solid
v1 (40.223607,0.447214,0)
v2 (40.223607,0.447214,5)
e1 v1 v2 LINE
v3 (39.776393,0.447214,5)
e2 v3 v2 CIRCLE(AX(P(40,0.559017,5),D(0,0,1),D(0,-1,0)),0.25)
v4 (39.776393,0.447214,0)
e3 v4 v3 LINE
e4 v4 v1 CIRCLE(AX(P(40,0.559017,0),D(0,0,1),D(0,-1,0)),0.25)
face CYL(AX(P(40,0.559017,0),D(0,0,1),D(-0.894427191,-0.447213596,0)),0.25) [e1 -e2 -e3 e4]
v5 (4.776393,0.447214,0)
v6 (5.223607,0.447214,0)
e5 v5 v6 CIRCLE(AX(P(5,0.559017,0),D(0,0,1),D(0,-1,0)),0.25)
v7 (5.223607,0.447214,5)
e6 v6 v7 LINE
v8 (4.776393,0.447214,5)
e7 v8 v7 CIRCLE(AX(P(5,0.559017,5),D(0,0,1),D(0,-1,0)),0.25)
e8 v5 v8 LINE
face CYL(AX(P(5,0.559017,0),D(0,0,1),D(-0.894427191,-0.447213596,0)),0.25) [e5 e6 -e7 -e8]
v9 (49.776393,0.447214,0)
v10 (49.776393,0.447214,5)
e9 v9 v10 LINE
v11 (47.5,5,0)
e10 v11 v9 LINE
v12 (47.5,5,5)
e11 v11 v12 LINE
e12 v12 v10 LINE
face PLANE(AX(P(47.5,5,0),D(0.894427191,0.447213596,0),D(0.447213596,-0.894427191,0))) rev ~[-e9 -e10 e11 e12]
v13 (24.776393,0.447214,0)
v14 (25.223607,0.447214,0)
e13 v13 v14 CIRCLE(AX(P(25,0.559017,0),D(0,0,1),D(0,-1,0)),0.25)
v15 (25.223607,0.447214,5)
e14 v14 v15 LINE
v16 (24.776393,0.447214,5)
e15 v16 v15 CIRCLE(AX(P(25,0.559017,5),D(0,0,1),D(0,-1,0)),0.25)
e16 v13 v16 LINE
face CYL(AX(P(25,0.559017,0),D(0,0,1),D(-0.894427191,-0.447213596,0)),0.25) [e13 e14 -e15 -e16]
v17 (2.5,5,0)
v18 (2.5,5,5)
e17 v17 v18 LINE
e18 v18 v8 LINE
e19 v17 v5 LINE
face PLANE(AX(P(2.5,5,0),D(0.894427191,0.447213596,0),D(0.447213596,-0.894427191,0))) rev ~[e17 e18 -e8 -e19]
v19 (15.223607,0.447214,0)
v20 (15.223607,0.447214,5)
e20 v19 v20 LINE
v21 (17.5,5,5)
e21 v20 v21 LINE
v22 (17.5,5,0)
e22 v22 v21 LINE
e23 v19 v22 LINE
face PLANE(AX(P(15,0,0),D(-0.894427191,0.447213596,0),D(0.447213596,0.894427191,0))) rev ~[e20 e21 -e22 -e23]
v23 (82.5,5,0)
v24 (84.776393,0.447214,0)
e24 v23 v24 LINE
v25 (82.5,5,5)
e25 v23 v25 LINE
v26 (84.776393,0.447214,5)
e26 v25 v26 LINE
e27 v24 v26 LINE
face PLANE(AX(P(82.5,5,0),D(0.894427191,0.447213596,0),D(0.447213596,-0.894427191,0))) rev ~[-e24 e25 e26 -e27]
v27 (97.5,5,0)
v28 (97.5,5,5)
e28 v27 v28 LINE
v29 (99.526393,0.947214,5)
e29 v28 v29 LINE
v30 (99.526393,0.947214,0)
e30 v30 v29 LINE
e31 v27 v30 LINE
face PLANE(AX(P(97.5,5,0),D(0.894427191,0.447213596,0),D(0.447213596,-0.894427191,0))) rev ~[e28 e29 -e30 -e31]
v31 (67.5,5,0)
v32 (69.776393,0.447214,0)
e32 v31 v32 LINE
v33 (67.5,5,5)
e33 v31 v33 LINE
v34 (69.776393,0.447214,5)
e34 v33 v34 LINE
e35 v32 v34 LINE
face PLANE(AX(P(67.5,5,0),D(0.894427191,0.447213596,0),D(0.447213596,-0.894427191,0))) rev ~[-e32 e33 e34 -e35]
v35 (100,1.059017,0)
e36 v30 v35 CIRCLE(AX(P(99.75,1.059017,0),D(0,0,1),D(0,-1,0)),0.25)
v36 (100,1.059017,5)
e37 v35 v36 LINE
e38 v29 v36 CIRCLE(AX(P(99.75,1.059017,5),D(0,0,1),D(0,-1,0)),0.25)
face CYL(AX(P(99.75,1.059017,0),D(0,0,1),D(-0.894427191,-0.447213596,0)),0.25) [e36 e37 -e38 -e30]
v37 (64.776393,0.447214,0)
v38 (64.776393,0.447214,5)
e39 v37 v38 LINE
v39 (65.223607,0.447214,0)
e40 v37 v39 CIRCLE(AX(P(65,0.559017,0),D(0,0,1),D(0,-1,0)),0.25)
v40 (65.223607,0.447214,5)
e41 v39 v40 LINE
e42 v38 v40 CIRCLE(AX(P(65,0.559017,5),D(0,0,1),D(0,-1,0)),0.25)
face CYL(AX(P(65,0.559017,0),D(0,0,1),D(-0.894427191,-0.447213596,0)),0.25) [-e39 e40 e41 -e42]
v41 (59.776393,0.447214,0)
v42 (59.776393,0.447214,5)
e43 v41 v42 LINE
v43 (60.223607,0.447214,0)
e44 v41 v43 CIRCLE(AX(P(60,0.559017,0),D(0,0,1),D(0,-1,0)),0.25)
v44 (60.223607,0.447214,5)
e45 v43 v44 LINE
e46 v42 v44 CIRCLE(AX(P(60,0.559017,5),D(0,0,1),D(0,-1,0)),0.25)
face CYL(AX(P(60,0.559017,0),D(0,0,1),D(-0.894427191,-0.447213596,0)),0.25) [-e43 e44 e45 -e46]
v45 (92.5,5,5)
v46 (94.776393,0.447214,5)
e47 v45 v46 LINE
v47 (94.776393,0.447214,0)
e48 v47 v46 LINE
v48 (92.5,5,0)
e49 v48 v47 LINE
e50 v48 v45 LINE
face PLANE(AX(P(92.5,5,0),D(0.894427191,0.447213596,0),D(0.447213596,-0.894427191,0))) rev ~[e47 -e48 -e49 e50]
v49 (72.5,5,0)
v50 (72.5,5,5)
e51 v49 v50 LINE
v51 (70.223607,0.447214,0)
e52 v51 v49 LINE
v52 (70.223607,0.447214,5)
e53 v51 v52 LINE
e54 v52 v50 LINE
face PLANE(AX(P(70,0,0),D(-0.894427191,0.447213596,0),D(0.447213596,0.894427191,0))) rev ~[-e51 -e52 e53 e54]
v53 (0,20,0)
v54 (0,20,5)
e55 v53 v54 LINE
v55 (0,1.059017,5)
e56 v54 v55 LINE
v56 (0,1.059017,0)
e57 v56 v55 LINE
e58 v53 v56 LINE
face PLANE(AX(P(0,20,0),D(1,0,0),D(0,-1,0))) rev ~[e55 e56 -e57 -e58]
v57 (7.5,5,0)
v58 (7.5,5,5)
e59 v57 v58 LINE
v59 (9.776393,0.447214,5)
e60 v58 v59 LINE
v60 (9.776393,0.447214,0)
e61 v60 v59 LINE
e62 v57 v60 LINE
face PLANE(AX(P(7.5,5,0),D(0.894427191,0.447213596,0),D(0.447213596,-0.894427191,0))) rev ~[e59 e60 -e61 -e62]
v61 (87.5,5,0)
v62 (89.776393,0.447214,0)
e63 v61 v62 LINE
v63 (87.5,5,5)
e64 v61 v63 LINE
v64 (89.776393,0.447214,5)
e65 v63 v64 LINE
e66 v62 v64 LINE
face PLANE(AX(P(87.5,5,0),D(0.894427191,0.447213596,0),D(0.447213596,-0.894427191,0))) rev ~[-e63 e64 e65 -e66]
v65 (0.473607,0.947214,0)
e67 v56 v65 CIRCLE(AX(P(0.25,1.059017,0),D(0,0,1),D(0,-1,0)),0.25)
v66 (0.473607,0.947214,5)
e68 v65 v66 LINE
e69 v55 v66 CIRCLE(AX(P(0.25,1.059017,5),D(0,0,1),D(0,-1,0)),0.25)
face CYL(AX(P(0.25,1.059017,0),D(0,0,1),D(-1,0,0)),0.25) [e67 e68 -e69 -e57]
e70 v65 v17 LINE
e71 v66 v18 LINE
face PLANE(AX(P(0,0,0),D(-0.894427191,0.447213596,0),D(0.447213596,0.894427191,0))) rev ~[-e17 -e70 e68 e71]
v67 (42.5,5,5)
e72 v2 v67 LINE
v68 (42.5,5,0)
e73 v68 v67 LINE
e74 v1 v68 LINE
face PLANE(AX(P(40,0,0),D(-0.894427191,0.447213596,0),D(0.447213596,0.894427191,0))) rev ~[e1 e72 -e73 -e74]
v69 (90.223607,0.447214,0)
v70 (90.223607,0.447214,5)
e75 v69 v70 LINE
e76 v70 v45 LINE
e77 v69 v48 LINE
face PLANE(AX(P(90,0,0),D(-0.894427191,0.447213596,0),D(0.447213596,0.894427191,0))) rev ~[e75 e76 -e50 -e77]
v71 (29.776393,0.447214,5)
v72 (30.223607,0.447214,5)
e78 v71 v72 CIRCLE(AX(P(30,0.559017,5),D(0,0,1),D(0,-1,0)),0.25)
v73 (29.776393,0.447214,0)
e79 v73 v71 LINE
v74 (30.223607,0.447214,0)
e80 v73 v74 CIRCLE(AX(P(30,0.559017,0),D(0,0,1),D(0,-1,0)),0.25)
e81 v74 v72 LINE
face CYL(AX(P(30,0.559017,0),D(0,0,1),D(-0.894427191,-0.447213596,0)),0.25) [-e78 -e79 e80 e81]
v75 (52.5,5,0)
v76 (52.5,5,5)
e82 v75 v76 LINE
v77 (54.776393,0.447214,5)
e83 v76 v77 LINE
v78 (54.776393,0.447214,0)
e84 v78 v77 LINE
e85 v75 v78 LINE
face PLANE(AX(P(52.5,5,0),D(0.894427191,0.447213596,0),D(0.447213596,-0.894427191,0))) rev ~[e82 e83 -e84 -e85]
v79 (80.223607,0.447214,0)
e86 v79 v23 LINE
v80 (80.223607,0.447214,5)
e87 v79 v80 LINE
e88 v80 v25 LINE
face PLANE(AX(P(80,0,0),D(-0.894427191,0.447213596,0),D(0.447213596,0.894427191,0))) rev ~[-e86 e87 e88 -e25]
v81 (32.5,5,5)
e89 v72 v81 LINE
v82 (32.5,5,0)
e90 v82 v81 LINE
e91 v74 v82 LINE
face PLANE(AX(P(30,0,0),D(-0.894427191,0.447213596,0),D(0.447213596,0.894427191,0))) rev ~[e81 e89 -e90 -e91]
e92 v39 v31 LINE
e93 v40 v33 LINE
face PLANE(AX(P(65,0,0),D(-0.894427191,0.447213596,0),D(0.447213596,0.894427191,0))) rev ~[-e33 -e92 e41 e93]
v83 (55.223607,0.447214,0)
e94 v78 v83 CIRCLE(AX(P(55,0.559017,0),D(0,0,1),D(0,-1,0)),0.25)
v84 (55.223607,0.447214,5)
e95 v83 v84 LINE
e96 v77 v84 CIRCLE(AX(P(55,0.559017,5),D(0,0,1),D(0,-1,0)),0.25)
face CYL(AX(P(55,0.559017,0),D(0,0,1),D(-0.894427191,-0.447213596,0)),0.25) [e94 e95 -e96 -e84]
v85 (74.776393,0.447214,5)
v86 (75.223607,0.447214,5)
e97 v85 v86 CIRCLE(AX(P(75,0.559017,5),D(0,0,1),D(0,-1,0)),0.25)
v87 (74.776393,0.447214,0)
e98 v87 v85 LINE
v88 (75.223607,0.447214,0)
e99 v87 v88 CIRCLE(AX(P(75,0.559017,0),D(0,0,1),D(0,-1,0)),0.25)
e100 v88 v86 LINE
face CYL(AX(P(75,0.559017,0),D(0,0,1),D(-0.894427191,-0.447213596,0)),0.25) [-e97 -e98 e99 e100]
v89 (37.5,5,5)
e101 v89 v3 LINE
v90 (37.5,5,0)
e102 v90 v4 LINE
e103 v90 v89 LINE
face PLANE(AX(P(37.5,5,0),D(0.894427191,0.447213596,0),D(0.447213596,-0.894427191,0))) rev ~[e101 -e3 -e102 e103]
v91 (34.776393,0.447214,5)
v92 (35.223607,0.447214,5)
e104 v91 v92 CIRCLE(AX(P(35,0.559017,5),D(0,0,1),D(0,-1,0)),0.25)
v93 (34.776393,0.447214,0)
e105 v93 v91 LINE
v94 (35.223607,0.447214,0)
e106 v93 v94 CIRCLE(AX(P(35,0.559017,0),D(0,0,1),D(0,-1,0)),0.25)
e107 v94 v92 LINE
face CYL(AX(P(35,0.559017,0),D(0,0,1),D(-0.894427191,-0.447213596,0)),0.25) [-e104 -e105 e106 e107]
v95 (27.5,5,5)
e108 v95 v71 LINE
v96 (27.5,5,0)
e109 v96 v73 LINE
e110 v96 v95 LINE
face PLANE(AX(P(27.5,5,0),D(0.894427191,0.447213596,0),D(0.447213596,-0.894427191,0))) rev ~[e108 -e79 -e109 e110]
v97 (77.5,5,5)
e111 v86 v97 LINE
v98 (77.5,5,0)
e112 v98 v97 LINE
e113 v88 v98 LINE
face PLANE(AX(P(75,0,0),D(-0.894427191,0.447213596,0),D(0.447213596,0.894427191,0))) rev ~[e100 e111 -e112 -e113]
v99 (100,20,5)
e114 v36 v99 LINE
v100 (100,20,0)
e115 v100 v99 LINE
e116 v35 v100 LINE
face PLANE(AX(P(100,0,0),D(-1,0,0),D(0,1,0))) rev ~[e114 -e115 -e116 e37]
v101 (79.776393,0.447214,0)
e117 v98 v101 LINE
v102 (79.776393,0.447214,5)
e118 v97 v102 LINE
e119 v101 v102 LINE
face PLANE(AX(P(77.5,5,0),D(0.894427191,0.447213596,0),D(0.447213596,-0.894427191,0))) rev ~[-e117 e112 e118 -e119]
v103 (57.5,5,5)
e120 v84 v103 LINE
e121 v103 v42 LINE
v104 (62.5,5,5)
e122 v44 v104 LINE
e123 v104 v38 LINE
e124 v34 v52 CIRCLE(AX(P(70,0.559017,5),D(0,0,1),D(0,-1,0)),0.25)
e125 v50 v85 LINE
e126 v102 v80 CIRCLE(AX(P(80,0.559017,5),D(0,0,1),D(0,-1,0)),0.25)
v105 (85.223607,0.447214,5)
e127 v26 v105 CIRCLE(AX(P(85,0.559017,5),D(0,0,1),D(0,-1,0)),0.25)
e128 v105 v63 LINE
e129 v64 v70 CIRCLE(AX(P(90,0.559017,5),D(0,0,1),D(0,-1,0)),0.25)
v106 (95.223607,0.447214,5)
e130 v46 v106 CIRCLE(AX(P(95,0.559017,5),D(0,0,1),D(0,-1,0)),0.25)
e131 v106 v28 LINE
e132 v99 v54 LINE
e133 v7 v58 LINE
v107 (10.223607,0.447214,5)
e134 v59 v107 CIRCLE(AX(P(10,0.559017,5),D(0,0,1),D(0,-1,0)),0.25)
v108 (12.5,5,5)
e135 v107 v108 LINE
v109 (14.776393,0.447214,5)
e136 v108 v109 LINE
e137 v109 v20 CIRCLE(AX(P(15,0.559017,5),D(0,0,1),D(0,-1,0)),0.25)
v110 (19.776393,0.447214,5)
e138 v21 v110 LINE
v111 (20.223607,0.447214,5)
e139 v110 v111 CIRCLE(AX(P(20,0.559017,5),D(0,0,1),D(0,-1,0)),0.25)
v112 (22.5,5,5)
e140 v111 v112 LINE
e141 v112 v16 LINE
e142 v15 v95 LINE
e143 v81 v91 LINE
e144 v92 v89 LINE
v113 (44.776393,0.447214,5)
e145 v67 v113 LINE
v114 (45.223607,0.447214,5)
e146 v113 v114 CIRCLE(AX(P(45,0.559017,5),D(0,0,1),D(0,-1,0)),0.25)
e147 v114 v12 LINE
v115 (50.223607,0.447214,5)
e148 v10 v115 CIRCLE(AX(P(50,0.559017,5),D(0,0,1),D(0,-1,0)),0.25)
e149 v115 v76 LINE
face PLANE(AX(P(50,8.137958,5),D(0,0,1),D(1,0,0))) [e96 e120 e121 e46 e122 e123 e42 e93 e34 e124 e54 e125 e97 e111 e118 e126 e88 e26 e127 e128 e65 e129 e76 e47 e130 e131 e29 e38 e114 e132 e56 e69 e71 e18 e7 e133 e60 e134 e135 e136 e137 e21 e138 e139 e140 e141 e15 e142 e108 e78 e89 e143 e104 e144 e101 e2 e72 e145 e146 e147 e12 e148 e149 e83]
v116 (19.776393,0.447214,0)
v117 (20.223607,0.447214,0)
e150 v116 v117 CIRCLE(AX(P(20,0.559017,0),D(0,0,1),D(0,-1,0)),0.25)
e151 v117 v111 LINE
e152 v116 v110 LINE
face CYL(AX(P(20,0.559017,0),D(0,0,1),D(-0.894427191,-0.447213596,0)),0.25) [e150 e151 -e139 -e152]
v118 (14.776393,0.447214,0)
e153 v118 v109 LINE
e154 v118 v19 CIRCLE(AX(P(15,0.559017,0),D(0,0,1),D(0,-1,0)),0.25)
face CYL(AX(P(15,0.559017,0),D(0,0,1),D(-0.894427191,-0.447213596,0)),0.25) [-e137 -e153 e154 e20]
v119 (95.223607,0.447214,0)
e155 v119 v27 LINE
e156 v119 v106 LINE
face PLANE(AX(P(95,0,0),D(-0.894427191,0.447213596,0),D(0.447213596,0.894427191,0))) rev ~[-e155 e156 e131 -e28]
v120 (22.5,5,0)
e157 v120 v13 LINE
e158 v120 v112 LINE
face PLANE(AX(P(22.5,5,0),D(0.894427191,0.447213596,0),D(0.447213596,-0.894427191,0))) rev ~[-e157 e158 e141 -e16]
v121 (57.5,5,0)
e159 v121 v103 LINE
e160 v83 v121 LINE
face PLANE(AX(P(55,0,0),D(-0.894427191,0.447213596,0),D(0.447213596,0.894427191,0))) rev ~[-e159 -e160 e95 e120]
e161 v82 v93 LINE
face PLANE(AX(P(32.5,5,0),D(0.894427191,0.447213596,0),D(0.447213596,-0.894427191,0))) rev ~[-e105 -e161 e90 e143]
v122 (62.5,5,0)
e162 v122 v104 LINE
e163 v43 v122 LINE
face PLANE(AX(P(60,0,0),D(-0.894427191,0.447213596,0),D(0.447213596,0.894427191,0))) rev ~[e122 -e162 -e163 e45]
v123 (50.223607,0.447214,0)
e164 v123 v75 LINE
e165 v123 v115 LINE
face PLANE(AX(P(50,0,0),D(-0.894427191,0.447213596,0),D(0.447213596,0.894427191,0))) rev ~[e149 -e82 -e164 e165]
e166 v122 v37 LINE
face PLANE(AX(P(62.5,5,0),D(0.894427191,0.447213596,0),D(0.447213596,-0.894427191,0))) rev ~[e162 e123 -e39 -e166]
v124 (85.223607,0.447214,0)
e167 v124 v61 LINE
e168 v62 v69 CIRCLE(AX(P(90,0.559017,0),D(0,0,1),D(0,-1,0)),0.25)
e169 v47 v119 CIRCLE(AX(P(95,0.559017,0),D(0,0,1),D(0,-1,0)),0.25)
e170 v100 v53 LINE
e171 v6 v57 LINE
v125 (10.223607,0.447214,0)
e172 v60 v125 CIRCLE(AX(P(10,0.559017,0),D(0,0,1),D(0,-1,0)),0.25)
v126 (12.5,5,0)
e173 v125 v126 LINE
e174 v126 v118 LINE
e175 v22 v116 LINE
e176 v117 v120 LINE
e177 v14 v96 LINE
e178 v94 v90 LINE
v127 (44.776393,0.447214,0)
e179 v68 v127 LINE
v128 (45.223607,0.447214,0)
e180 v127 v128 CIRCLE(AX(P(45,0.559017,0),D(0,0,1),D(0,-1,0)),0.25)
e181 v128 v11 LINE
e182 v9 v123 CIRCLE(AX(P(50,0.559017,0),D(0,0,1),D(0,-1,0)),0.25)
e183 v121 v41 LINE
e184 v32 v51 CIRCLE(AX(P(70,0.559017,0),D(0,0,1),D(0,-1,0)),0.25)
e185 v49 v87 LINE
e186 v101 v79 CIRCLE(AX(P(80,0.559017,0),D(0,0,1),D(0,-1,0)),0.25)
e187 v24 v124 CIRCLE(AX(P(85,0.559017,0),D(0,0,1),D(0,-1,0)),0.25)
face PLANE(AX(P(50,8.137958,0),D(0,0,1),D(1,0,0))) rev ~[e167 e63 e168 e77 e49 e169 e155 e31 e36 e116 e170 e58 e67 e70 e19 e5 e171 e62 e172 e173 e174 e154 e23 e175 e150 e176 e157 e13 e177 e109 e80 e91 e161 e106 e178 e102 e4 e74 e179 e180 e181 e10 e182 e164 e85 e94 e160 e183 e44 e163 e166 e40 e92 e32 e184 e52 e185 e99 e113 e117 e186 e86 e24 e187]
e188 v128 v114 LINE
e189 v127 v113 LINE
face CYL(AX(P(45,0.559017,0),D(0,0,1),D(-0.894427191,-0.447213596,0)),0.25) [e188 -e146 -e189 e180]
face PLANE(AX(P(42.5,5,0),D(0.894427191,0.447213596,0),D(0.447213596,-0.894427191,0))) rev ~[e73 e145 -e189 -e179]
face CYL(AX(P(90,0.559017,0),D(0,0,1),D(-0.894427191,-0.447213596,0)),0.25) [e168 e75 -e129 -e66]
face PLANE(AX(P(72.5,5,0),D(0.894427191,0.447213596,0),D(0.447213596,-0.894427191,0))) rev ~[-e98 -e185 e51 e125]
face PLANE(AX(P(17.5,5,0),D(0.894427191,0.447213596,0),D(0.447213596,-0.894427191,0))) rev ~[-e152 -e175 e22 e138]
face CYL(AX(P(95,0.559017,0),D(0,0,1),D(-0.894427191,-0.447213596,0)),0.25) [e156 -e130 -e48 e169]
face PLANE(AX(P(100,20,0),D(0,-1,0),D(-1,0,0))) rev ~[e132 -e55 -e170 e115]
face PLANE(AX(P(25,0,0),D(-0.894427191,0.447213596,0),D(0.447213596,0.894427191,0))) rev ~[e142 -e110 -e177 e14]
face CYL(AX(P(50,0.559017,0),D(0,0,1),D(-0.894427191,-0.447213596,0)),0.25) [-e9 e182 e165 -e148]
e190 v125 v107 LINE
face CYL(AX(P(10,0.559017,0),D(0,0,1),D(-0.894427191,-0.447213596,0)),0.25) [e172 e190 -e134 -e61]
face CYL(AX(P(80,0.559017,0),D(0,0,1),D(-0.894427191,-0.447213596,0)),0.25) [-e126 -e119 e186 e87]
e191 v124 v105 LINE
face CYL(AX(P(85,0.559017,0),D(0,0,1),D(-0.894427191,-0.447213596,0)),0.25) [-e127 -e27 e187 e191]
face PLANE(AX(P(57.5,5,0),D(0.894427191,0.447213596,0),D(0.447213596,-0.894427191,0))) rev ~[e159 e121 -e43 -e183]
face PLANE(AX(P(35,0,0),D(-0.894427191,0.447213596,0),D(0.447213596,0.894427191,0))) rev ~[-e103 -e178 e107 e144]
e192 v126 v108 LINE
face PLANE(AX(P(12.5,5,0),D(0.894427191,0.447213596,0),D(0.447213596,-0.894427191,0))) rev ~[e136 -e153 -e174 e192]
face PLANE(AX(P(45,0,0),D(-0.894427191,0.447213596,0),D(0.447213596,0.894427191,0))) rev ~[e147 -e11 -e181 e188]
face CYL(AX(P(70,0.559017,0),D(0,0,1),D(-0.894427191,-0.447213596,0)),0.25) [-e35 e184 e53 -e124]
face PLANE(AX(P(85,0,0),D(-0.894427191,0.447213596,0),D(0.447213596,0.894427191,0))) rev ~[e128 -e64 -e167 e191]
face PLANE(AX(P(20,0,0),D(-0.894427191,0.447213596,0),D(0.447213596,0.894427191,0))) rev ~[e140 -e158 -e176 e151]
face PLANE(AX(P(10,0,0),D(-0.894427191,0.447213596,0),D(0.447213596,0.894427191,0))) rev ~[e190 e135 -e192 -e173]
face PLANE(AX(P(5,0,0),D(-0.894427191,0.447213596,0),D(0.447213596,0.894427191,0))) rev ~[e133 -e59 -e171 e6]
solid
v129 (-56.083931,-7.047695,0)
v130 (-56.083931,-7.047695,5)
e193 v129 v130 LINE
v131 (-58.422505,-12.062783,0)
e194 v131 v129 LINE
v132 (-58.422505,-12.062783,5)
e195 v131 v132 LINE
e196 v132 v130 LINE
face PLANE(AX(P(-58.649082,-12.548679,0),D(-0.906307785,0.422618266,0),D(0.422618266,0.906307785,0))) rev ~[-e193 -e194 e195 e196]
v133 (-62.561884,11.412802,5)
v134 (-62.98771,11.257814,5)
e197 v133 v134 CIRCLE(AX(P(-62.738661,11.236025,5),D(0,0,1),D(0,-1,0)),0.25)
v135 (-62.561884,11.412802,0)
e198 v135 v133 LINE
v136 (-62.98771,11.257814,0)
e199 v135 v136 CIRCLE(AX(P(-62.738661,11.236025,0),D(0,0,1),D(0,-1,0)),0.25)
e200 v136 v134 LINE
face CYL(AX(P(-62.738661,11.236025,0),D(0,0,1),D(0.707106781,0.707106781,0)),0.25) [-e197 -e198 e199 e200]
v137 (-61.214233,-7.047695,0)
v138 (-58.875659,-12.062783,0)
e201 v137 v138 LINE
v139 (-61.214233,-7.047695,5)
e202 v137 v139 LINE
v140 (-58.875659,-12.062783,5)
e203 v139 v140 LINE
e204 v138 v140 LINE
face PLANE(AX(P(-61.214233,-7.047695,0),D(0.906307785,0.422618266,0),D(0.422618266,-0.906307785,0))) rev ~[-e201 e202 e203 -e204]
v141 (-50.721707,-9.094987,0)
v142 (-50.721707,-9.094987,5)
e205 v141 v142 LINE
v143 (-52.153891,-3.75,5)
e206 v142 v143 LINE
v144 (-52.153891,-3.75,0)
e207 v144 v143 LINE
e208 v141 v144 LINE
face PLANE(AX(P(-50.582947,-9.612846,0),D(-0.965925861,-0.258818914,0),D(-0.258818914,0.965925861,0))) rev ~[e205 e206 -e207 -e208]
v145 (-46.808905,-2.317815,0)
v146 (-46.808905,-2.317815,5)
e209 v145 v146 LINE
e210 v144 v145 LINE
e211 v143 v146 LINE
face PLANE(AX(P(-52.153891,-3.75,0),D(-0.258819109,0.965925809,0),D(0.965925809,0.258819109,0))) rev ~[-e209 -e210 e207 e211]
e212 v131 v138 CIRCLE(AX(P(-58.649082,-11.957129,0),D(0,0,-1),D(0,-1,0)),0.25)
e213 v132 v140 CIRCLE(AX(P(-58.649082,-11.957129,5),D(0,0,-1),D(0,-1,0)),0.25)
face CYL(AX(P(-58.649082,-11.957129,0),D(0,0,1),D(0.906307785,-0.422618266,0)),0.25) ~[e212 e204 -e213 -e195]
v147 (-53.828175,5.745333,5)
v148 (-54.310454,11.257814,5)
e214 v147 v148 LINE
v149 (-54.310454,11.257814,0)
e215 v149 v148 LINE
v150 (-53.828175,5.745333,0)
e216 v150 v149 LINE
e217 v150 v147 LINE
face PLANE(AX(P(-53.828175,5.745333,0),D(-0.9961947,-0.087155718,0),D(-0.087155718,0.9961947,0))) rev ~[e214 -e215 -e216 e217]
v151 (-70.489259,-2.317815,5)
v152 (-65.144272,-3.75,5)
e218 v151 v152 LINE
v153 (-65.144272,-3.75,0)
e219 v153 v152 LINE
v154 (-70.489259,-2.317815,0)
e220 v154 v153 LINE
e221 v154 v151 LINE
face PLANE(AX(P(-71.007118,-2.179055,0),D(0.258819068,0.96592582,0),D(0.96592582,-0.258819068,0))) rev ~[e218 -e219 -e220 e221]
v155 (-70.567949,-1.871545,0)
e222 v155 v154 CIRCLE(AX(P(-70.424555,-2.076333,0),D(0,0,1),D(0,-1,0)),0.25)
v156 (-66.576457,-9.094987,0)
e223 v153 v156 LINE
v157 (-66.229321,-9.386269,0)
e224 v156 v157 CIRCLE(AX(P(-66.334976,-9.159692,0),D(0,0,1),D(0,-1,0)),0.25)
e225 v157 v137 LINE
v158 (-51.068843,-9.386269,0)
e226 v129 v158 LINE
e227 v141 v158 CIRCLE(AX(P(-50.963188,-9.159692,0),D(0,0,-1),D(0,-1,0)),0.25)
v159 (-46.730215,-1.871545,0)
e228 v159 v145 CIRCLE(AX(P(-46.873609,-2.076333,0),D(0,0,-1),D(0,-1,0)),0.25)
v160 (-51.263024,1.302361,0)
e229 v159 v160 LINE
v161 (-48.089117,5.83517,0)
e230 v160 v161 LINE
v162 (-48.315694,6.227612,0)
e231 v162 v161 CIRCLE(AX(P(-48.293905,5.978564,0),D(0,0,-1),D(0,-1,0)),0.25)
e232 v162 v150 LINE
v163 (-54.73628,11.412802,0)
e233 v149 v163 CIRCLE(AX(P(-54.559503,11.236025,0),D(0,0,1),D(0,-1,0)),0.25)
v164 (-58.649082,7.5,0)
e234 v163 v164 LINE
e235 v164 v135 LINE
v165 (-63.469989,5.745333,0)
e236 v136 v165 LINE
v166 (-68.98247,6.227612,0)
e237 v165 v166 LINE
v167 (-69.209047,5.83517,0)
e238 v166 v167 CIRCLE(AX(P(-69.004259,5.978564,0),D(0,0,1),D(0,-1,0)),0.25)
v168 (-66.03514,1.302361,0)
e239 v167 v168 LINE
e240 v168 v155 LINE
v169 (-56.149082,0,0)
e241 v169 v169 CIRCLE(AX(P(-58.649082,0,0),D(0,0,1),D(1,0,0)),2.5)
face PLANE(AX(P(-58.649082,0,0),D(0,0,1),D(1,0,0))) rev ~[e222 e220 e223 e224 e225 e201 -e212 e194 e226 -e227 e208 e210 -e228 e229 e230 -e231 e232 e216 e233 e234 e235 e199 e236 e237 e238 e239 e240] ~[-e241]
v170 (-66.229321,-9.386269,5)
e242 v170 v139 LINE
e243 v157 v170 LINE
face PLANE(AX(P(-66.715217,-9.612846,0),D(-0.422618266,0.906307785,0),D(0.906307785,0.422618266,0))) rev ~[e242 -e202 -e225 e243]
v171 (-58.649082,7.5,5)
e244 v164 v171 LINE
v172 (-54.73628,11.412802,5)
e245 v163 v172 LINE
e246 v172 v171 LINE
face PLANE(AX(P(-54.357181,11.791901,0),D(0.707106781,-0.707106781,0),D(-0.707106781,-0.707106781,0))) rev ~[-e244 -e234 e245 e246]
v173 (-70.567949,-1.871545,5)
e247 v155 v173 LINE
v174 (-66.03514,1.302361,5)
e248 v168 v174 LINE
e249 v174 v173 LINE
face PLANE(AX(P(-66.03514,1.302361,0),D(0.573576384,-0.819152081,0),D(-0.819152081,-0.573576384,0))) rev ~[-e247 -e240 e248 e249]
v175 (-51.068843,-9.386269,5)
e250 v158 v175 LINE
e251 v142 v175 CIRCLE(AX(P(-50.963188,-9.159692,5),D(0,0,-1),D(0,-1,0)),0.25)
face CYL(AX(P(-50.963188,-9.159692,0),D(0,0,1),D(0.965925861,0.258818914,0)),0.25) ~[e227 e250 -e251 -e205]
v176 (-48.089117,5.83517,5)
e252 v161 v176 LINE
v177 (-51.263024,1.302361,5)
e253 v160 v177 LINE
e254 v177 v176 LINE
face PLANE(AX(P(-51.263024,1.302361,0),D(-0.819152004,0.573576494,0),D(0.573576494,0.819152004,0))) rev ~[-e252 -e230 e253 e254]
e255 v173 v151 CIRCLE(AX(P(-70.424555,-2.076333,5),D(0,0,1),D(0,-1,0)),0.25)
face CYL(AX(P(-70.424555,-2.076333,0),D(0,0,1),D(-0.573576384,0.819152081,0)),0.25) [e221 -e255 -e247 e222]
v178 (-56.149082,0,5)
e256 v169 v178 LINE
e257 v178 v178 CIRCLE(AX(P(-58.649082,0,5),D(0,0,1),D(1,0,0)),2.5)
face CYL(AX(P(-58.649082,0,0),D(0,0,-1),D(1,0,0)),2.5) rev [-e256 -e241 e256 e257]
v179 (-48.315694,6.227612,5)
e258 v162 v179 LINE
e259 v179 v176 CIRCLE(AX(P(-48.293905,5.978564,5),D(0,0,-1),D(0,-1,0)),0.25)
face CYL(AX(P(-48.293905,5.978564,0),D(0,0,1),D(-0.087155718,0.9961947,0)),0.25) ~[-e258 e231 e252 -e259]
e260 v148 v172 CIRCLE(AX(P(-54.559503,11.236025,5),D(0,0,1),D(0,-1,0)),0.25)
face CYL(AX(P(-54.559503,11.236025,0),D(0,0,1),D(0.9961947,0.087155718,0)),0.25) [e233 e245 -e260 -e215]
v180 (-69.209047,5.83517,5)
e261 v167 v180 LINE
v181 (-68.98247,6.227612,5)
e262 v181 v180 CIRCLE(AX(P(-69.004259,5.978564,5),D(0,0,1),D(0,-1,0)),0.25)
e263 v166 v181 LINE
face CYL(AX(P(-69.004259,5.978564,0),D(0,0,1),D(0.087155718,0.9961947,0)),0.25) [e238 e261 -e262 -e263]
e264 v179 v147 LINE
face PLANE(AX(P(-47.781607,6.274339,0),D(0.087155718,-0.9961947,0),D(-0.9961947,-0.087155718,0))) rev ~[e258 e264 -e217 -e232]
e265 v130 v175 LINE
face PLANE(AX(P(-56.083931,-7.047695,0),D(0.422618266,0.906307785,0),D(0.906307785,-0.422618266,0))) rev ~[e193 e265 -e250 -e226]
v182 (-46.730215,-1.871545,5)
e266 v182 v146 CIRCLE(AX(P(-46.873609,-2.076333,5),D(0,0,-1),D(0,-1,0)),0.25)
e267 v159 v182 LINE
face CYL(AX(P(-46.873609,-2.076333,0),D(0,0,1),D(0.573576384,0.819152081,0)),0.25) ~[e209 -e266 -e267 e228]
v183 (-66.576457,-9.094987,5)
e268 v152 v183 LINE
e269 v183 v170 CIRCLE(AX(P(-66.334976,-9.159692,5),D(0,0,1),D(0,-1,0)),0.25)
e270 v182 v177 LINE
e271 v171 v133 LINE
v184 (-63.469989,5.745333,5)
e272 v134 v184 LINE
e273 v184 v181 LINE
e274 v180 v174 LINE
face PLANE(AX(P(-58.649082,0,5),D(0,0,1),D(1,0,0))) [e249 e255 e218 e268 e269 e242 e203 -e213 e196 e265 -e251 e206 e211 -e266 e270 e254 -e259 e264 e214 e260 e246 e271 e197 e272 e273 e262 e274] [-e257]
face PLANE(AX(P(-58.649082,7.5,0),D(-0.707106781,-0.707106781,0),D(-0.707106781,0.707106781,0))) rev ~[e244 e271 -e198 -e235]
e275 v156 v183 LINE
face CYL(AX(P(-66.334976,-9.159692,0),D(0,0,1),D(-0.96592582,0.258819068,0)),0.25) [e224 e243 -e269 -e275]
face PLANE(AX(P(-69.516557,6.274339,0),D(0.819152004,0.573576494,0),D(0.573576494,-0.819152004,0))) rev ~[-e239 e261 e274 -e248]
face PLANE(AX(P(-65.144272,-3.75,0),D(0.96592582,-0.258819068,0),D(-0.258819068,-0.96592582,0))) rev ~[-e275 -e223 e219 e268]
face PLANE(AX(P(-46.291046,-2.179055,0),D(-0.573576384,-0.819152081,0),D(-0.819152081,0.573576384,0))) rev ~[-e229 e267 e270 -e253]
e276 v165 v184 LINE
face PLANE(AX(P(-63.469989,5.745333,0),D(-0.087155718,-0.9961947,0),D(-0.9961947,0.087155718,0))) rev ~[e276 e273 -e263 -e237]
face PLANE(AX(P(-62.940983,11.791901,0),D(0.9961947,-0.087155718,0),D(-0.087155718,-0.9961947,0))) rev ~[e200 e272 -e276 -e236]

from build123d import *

# Parameters (mm, degrees)
F1_DEPTH = 5
F2_R     = 0.25
F3_R     = 2.5
F4_DEPTH = 5
F5_R     = 0.25


with BuildPart() as f1:
    # F0 (on Top) → F1 (new body)
    with BuildSketch(Plane.XY):
        Polygon((100, 20), (0, 20), (0, 0), (2.5, 5), (5, 0), (7.5, 5), (10, 0), (12.5, 5), (15, 0), (17.5, 5), (20, 0), (22.5, 5), (25, 0), (27.5, 5), (30, 0), (32.5, 5), (35, 0), (37.5, 5), (40, 0), (42.5, 5), (45, 0), (47.5, 5), (50, 0), (52.5, 5), (55, 0), (57.5, 5), (60, 0), (62.5, 5), (65, 0), (67.5, 5), (70, 0), (72.5, 5), (75, 0), (77.5, 5), (80, 0), (82.5, 5), (85, 0), (87.5, 5), (90, 0), (92.5, 5), (95, 0), (97.5, 5), (100, 0), align=None)
    extrude(amount=F1_DEPTH)

    # F2
    f2_edges = [f1.edges().sort_by_distance(p)[0] for p in [
        (5, 0, 2.5),
        (10, 0, 2.5),
        (15, 0, 2.5),
        (0, 0, 2.5),
        (20, 0, 2.5),
        (25, 0, 2.5),
        (30, 0, 2.5),
        (35, 0, 2.5),
        (40, 0, 2.5),
        (45, 0, 2.5),
        (50, 0, 2.5),
        (55, 0, 2.5),
        (60, 0, 2.5),
        (65, 0, 2.5),
        (70, 0, 2.5),
        (80, 0, 2.5),
        (85, 0, 2.5),
        (90, 0, 2.5),
        (95, 0, 2.5),
        (100, 0, 2.5),
        (75, 0, 2.5),
    ]]
    fillet(f2_edges, radius=F2_R)


with BuildPart() as f4:
    # F3 (on Top) → F4 (new body)
    with BuildSketch(Plane.XY):
        Polygon((-53.828175, 5.745333), (-54.357181, 11.791901), (-58.649082, 7.5), (-62.940983, 11.791901), (-63.469989, 5.745333), (-69.516557, 6.274339), (-66.03514, 1.302361), (-71.007118, -2.179055), (-65.144272, -3.75), (-66.715217, -9.612846), (-61.214233, -7.047695), (-58.649082, -12.548679), (-56.083931, -7.047695), (-50.582947, -9.612846), (-52.153891, -3.75), (-46.291046, -2.179055), (-51.263024, 1.302361), (-47.781607, 6.274339), align=None)
        with Locations((-58.649082, 0)):
            Circle(F3_R, mode=Mode.SUBTRACT)
    extrude(amount=F4_DEPTH)

    # F5
    f5_edges = [f4.edges().sort_by_distance(p)[0] for p in [
        (-62.940983, 11.791901, 2.5),
        (-54.357181, 11.791901, 2.5),
        (-47.781607, 6.274339, 2.5),
        (-46.291046, -2.179055, 2.5),
        (-50.582947, -9.612846, 2.5),
        (-58.649082, -12.548679, 2.5),
        (-66.715217, -9.612846, 2.5),
        (-71.007118, -2.179055, 2.5),
        (-69.516557, 6.274339, 2.5),
    ]]
    fillet(f5_edges, radius=F5_R)


solid = Compound([f1.part, f4.part])
